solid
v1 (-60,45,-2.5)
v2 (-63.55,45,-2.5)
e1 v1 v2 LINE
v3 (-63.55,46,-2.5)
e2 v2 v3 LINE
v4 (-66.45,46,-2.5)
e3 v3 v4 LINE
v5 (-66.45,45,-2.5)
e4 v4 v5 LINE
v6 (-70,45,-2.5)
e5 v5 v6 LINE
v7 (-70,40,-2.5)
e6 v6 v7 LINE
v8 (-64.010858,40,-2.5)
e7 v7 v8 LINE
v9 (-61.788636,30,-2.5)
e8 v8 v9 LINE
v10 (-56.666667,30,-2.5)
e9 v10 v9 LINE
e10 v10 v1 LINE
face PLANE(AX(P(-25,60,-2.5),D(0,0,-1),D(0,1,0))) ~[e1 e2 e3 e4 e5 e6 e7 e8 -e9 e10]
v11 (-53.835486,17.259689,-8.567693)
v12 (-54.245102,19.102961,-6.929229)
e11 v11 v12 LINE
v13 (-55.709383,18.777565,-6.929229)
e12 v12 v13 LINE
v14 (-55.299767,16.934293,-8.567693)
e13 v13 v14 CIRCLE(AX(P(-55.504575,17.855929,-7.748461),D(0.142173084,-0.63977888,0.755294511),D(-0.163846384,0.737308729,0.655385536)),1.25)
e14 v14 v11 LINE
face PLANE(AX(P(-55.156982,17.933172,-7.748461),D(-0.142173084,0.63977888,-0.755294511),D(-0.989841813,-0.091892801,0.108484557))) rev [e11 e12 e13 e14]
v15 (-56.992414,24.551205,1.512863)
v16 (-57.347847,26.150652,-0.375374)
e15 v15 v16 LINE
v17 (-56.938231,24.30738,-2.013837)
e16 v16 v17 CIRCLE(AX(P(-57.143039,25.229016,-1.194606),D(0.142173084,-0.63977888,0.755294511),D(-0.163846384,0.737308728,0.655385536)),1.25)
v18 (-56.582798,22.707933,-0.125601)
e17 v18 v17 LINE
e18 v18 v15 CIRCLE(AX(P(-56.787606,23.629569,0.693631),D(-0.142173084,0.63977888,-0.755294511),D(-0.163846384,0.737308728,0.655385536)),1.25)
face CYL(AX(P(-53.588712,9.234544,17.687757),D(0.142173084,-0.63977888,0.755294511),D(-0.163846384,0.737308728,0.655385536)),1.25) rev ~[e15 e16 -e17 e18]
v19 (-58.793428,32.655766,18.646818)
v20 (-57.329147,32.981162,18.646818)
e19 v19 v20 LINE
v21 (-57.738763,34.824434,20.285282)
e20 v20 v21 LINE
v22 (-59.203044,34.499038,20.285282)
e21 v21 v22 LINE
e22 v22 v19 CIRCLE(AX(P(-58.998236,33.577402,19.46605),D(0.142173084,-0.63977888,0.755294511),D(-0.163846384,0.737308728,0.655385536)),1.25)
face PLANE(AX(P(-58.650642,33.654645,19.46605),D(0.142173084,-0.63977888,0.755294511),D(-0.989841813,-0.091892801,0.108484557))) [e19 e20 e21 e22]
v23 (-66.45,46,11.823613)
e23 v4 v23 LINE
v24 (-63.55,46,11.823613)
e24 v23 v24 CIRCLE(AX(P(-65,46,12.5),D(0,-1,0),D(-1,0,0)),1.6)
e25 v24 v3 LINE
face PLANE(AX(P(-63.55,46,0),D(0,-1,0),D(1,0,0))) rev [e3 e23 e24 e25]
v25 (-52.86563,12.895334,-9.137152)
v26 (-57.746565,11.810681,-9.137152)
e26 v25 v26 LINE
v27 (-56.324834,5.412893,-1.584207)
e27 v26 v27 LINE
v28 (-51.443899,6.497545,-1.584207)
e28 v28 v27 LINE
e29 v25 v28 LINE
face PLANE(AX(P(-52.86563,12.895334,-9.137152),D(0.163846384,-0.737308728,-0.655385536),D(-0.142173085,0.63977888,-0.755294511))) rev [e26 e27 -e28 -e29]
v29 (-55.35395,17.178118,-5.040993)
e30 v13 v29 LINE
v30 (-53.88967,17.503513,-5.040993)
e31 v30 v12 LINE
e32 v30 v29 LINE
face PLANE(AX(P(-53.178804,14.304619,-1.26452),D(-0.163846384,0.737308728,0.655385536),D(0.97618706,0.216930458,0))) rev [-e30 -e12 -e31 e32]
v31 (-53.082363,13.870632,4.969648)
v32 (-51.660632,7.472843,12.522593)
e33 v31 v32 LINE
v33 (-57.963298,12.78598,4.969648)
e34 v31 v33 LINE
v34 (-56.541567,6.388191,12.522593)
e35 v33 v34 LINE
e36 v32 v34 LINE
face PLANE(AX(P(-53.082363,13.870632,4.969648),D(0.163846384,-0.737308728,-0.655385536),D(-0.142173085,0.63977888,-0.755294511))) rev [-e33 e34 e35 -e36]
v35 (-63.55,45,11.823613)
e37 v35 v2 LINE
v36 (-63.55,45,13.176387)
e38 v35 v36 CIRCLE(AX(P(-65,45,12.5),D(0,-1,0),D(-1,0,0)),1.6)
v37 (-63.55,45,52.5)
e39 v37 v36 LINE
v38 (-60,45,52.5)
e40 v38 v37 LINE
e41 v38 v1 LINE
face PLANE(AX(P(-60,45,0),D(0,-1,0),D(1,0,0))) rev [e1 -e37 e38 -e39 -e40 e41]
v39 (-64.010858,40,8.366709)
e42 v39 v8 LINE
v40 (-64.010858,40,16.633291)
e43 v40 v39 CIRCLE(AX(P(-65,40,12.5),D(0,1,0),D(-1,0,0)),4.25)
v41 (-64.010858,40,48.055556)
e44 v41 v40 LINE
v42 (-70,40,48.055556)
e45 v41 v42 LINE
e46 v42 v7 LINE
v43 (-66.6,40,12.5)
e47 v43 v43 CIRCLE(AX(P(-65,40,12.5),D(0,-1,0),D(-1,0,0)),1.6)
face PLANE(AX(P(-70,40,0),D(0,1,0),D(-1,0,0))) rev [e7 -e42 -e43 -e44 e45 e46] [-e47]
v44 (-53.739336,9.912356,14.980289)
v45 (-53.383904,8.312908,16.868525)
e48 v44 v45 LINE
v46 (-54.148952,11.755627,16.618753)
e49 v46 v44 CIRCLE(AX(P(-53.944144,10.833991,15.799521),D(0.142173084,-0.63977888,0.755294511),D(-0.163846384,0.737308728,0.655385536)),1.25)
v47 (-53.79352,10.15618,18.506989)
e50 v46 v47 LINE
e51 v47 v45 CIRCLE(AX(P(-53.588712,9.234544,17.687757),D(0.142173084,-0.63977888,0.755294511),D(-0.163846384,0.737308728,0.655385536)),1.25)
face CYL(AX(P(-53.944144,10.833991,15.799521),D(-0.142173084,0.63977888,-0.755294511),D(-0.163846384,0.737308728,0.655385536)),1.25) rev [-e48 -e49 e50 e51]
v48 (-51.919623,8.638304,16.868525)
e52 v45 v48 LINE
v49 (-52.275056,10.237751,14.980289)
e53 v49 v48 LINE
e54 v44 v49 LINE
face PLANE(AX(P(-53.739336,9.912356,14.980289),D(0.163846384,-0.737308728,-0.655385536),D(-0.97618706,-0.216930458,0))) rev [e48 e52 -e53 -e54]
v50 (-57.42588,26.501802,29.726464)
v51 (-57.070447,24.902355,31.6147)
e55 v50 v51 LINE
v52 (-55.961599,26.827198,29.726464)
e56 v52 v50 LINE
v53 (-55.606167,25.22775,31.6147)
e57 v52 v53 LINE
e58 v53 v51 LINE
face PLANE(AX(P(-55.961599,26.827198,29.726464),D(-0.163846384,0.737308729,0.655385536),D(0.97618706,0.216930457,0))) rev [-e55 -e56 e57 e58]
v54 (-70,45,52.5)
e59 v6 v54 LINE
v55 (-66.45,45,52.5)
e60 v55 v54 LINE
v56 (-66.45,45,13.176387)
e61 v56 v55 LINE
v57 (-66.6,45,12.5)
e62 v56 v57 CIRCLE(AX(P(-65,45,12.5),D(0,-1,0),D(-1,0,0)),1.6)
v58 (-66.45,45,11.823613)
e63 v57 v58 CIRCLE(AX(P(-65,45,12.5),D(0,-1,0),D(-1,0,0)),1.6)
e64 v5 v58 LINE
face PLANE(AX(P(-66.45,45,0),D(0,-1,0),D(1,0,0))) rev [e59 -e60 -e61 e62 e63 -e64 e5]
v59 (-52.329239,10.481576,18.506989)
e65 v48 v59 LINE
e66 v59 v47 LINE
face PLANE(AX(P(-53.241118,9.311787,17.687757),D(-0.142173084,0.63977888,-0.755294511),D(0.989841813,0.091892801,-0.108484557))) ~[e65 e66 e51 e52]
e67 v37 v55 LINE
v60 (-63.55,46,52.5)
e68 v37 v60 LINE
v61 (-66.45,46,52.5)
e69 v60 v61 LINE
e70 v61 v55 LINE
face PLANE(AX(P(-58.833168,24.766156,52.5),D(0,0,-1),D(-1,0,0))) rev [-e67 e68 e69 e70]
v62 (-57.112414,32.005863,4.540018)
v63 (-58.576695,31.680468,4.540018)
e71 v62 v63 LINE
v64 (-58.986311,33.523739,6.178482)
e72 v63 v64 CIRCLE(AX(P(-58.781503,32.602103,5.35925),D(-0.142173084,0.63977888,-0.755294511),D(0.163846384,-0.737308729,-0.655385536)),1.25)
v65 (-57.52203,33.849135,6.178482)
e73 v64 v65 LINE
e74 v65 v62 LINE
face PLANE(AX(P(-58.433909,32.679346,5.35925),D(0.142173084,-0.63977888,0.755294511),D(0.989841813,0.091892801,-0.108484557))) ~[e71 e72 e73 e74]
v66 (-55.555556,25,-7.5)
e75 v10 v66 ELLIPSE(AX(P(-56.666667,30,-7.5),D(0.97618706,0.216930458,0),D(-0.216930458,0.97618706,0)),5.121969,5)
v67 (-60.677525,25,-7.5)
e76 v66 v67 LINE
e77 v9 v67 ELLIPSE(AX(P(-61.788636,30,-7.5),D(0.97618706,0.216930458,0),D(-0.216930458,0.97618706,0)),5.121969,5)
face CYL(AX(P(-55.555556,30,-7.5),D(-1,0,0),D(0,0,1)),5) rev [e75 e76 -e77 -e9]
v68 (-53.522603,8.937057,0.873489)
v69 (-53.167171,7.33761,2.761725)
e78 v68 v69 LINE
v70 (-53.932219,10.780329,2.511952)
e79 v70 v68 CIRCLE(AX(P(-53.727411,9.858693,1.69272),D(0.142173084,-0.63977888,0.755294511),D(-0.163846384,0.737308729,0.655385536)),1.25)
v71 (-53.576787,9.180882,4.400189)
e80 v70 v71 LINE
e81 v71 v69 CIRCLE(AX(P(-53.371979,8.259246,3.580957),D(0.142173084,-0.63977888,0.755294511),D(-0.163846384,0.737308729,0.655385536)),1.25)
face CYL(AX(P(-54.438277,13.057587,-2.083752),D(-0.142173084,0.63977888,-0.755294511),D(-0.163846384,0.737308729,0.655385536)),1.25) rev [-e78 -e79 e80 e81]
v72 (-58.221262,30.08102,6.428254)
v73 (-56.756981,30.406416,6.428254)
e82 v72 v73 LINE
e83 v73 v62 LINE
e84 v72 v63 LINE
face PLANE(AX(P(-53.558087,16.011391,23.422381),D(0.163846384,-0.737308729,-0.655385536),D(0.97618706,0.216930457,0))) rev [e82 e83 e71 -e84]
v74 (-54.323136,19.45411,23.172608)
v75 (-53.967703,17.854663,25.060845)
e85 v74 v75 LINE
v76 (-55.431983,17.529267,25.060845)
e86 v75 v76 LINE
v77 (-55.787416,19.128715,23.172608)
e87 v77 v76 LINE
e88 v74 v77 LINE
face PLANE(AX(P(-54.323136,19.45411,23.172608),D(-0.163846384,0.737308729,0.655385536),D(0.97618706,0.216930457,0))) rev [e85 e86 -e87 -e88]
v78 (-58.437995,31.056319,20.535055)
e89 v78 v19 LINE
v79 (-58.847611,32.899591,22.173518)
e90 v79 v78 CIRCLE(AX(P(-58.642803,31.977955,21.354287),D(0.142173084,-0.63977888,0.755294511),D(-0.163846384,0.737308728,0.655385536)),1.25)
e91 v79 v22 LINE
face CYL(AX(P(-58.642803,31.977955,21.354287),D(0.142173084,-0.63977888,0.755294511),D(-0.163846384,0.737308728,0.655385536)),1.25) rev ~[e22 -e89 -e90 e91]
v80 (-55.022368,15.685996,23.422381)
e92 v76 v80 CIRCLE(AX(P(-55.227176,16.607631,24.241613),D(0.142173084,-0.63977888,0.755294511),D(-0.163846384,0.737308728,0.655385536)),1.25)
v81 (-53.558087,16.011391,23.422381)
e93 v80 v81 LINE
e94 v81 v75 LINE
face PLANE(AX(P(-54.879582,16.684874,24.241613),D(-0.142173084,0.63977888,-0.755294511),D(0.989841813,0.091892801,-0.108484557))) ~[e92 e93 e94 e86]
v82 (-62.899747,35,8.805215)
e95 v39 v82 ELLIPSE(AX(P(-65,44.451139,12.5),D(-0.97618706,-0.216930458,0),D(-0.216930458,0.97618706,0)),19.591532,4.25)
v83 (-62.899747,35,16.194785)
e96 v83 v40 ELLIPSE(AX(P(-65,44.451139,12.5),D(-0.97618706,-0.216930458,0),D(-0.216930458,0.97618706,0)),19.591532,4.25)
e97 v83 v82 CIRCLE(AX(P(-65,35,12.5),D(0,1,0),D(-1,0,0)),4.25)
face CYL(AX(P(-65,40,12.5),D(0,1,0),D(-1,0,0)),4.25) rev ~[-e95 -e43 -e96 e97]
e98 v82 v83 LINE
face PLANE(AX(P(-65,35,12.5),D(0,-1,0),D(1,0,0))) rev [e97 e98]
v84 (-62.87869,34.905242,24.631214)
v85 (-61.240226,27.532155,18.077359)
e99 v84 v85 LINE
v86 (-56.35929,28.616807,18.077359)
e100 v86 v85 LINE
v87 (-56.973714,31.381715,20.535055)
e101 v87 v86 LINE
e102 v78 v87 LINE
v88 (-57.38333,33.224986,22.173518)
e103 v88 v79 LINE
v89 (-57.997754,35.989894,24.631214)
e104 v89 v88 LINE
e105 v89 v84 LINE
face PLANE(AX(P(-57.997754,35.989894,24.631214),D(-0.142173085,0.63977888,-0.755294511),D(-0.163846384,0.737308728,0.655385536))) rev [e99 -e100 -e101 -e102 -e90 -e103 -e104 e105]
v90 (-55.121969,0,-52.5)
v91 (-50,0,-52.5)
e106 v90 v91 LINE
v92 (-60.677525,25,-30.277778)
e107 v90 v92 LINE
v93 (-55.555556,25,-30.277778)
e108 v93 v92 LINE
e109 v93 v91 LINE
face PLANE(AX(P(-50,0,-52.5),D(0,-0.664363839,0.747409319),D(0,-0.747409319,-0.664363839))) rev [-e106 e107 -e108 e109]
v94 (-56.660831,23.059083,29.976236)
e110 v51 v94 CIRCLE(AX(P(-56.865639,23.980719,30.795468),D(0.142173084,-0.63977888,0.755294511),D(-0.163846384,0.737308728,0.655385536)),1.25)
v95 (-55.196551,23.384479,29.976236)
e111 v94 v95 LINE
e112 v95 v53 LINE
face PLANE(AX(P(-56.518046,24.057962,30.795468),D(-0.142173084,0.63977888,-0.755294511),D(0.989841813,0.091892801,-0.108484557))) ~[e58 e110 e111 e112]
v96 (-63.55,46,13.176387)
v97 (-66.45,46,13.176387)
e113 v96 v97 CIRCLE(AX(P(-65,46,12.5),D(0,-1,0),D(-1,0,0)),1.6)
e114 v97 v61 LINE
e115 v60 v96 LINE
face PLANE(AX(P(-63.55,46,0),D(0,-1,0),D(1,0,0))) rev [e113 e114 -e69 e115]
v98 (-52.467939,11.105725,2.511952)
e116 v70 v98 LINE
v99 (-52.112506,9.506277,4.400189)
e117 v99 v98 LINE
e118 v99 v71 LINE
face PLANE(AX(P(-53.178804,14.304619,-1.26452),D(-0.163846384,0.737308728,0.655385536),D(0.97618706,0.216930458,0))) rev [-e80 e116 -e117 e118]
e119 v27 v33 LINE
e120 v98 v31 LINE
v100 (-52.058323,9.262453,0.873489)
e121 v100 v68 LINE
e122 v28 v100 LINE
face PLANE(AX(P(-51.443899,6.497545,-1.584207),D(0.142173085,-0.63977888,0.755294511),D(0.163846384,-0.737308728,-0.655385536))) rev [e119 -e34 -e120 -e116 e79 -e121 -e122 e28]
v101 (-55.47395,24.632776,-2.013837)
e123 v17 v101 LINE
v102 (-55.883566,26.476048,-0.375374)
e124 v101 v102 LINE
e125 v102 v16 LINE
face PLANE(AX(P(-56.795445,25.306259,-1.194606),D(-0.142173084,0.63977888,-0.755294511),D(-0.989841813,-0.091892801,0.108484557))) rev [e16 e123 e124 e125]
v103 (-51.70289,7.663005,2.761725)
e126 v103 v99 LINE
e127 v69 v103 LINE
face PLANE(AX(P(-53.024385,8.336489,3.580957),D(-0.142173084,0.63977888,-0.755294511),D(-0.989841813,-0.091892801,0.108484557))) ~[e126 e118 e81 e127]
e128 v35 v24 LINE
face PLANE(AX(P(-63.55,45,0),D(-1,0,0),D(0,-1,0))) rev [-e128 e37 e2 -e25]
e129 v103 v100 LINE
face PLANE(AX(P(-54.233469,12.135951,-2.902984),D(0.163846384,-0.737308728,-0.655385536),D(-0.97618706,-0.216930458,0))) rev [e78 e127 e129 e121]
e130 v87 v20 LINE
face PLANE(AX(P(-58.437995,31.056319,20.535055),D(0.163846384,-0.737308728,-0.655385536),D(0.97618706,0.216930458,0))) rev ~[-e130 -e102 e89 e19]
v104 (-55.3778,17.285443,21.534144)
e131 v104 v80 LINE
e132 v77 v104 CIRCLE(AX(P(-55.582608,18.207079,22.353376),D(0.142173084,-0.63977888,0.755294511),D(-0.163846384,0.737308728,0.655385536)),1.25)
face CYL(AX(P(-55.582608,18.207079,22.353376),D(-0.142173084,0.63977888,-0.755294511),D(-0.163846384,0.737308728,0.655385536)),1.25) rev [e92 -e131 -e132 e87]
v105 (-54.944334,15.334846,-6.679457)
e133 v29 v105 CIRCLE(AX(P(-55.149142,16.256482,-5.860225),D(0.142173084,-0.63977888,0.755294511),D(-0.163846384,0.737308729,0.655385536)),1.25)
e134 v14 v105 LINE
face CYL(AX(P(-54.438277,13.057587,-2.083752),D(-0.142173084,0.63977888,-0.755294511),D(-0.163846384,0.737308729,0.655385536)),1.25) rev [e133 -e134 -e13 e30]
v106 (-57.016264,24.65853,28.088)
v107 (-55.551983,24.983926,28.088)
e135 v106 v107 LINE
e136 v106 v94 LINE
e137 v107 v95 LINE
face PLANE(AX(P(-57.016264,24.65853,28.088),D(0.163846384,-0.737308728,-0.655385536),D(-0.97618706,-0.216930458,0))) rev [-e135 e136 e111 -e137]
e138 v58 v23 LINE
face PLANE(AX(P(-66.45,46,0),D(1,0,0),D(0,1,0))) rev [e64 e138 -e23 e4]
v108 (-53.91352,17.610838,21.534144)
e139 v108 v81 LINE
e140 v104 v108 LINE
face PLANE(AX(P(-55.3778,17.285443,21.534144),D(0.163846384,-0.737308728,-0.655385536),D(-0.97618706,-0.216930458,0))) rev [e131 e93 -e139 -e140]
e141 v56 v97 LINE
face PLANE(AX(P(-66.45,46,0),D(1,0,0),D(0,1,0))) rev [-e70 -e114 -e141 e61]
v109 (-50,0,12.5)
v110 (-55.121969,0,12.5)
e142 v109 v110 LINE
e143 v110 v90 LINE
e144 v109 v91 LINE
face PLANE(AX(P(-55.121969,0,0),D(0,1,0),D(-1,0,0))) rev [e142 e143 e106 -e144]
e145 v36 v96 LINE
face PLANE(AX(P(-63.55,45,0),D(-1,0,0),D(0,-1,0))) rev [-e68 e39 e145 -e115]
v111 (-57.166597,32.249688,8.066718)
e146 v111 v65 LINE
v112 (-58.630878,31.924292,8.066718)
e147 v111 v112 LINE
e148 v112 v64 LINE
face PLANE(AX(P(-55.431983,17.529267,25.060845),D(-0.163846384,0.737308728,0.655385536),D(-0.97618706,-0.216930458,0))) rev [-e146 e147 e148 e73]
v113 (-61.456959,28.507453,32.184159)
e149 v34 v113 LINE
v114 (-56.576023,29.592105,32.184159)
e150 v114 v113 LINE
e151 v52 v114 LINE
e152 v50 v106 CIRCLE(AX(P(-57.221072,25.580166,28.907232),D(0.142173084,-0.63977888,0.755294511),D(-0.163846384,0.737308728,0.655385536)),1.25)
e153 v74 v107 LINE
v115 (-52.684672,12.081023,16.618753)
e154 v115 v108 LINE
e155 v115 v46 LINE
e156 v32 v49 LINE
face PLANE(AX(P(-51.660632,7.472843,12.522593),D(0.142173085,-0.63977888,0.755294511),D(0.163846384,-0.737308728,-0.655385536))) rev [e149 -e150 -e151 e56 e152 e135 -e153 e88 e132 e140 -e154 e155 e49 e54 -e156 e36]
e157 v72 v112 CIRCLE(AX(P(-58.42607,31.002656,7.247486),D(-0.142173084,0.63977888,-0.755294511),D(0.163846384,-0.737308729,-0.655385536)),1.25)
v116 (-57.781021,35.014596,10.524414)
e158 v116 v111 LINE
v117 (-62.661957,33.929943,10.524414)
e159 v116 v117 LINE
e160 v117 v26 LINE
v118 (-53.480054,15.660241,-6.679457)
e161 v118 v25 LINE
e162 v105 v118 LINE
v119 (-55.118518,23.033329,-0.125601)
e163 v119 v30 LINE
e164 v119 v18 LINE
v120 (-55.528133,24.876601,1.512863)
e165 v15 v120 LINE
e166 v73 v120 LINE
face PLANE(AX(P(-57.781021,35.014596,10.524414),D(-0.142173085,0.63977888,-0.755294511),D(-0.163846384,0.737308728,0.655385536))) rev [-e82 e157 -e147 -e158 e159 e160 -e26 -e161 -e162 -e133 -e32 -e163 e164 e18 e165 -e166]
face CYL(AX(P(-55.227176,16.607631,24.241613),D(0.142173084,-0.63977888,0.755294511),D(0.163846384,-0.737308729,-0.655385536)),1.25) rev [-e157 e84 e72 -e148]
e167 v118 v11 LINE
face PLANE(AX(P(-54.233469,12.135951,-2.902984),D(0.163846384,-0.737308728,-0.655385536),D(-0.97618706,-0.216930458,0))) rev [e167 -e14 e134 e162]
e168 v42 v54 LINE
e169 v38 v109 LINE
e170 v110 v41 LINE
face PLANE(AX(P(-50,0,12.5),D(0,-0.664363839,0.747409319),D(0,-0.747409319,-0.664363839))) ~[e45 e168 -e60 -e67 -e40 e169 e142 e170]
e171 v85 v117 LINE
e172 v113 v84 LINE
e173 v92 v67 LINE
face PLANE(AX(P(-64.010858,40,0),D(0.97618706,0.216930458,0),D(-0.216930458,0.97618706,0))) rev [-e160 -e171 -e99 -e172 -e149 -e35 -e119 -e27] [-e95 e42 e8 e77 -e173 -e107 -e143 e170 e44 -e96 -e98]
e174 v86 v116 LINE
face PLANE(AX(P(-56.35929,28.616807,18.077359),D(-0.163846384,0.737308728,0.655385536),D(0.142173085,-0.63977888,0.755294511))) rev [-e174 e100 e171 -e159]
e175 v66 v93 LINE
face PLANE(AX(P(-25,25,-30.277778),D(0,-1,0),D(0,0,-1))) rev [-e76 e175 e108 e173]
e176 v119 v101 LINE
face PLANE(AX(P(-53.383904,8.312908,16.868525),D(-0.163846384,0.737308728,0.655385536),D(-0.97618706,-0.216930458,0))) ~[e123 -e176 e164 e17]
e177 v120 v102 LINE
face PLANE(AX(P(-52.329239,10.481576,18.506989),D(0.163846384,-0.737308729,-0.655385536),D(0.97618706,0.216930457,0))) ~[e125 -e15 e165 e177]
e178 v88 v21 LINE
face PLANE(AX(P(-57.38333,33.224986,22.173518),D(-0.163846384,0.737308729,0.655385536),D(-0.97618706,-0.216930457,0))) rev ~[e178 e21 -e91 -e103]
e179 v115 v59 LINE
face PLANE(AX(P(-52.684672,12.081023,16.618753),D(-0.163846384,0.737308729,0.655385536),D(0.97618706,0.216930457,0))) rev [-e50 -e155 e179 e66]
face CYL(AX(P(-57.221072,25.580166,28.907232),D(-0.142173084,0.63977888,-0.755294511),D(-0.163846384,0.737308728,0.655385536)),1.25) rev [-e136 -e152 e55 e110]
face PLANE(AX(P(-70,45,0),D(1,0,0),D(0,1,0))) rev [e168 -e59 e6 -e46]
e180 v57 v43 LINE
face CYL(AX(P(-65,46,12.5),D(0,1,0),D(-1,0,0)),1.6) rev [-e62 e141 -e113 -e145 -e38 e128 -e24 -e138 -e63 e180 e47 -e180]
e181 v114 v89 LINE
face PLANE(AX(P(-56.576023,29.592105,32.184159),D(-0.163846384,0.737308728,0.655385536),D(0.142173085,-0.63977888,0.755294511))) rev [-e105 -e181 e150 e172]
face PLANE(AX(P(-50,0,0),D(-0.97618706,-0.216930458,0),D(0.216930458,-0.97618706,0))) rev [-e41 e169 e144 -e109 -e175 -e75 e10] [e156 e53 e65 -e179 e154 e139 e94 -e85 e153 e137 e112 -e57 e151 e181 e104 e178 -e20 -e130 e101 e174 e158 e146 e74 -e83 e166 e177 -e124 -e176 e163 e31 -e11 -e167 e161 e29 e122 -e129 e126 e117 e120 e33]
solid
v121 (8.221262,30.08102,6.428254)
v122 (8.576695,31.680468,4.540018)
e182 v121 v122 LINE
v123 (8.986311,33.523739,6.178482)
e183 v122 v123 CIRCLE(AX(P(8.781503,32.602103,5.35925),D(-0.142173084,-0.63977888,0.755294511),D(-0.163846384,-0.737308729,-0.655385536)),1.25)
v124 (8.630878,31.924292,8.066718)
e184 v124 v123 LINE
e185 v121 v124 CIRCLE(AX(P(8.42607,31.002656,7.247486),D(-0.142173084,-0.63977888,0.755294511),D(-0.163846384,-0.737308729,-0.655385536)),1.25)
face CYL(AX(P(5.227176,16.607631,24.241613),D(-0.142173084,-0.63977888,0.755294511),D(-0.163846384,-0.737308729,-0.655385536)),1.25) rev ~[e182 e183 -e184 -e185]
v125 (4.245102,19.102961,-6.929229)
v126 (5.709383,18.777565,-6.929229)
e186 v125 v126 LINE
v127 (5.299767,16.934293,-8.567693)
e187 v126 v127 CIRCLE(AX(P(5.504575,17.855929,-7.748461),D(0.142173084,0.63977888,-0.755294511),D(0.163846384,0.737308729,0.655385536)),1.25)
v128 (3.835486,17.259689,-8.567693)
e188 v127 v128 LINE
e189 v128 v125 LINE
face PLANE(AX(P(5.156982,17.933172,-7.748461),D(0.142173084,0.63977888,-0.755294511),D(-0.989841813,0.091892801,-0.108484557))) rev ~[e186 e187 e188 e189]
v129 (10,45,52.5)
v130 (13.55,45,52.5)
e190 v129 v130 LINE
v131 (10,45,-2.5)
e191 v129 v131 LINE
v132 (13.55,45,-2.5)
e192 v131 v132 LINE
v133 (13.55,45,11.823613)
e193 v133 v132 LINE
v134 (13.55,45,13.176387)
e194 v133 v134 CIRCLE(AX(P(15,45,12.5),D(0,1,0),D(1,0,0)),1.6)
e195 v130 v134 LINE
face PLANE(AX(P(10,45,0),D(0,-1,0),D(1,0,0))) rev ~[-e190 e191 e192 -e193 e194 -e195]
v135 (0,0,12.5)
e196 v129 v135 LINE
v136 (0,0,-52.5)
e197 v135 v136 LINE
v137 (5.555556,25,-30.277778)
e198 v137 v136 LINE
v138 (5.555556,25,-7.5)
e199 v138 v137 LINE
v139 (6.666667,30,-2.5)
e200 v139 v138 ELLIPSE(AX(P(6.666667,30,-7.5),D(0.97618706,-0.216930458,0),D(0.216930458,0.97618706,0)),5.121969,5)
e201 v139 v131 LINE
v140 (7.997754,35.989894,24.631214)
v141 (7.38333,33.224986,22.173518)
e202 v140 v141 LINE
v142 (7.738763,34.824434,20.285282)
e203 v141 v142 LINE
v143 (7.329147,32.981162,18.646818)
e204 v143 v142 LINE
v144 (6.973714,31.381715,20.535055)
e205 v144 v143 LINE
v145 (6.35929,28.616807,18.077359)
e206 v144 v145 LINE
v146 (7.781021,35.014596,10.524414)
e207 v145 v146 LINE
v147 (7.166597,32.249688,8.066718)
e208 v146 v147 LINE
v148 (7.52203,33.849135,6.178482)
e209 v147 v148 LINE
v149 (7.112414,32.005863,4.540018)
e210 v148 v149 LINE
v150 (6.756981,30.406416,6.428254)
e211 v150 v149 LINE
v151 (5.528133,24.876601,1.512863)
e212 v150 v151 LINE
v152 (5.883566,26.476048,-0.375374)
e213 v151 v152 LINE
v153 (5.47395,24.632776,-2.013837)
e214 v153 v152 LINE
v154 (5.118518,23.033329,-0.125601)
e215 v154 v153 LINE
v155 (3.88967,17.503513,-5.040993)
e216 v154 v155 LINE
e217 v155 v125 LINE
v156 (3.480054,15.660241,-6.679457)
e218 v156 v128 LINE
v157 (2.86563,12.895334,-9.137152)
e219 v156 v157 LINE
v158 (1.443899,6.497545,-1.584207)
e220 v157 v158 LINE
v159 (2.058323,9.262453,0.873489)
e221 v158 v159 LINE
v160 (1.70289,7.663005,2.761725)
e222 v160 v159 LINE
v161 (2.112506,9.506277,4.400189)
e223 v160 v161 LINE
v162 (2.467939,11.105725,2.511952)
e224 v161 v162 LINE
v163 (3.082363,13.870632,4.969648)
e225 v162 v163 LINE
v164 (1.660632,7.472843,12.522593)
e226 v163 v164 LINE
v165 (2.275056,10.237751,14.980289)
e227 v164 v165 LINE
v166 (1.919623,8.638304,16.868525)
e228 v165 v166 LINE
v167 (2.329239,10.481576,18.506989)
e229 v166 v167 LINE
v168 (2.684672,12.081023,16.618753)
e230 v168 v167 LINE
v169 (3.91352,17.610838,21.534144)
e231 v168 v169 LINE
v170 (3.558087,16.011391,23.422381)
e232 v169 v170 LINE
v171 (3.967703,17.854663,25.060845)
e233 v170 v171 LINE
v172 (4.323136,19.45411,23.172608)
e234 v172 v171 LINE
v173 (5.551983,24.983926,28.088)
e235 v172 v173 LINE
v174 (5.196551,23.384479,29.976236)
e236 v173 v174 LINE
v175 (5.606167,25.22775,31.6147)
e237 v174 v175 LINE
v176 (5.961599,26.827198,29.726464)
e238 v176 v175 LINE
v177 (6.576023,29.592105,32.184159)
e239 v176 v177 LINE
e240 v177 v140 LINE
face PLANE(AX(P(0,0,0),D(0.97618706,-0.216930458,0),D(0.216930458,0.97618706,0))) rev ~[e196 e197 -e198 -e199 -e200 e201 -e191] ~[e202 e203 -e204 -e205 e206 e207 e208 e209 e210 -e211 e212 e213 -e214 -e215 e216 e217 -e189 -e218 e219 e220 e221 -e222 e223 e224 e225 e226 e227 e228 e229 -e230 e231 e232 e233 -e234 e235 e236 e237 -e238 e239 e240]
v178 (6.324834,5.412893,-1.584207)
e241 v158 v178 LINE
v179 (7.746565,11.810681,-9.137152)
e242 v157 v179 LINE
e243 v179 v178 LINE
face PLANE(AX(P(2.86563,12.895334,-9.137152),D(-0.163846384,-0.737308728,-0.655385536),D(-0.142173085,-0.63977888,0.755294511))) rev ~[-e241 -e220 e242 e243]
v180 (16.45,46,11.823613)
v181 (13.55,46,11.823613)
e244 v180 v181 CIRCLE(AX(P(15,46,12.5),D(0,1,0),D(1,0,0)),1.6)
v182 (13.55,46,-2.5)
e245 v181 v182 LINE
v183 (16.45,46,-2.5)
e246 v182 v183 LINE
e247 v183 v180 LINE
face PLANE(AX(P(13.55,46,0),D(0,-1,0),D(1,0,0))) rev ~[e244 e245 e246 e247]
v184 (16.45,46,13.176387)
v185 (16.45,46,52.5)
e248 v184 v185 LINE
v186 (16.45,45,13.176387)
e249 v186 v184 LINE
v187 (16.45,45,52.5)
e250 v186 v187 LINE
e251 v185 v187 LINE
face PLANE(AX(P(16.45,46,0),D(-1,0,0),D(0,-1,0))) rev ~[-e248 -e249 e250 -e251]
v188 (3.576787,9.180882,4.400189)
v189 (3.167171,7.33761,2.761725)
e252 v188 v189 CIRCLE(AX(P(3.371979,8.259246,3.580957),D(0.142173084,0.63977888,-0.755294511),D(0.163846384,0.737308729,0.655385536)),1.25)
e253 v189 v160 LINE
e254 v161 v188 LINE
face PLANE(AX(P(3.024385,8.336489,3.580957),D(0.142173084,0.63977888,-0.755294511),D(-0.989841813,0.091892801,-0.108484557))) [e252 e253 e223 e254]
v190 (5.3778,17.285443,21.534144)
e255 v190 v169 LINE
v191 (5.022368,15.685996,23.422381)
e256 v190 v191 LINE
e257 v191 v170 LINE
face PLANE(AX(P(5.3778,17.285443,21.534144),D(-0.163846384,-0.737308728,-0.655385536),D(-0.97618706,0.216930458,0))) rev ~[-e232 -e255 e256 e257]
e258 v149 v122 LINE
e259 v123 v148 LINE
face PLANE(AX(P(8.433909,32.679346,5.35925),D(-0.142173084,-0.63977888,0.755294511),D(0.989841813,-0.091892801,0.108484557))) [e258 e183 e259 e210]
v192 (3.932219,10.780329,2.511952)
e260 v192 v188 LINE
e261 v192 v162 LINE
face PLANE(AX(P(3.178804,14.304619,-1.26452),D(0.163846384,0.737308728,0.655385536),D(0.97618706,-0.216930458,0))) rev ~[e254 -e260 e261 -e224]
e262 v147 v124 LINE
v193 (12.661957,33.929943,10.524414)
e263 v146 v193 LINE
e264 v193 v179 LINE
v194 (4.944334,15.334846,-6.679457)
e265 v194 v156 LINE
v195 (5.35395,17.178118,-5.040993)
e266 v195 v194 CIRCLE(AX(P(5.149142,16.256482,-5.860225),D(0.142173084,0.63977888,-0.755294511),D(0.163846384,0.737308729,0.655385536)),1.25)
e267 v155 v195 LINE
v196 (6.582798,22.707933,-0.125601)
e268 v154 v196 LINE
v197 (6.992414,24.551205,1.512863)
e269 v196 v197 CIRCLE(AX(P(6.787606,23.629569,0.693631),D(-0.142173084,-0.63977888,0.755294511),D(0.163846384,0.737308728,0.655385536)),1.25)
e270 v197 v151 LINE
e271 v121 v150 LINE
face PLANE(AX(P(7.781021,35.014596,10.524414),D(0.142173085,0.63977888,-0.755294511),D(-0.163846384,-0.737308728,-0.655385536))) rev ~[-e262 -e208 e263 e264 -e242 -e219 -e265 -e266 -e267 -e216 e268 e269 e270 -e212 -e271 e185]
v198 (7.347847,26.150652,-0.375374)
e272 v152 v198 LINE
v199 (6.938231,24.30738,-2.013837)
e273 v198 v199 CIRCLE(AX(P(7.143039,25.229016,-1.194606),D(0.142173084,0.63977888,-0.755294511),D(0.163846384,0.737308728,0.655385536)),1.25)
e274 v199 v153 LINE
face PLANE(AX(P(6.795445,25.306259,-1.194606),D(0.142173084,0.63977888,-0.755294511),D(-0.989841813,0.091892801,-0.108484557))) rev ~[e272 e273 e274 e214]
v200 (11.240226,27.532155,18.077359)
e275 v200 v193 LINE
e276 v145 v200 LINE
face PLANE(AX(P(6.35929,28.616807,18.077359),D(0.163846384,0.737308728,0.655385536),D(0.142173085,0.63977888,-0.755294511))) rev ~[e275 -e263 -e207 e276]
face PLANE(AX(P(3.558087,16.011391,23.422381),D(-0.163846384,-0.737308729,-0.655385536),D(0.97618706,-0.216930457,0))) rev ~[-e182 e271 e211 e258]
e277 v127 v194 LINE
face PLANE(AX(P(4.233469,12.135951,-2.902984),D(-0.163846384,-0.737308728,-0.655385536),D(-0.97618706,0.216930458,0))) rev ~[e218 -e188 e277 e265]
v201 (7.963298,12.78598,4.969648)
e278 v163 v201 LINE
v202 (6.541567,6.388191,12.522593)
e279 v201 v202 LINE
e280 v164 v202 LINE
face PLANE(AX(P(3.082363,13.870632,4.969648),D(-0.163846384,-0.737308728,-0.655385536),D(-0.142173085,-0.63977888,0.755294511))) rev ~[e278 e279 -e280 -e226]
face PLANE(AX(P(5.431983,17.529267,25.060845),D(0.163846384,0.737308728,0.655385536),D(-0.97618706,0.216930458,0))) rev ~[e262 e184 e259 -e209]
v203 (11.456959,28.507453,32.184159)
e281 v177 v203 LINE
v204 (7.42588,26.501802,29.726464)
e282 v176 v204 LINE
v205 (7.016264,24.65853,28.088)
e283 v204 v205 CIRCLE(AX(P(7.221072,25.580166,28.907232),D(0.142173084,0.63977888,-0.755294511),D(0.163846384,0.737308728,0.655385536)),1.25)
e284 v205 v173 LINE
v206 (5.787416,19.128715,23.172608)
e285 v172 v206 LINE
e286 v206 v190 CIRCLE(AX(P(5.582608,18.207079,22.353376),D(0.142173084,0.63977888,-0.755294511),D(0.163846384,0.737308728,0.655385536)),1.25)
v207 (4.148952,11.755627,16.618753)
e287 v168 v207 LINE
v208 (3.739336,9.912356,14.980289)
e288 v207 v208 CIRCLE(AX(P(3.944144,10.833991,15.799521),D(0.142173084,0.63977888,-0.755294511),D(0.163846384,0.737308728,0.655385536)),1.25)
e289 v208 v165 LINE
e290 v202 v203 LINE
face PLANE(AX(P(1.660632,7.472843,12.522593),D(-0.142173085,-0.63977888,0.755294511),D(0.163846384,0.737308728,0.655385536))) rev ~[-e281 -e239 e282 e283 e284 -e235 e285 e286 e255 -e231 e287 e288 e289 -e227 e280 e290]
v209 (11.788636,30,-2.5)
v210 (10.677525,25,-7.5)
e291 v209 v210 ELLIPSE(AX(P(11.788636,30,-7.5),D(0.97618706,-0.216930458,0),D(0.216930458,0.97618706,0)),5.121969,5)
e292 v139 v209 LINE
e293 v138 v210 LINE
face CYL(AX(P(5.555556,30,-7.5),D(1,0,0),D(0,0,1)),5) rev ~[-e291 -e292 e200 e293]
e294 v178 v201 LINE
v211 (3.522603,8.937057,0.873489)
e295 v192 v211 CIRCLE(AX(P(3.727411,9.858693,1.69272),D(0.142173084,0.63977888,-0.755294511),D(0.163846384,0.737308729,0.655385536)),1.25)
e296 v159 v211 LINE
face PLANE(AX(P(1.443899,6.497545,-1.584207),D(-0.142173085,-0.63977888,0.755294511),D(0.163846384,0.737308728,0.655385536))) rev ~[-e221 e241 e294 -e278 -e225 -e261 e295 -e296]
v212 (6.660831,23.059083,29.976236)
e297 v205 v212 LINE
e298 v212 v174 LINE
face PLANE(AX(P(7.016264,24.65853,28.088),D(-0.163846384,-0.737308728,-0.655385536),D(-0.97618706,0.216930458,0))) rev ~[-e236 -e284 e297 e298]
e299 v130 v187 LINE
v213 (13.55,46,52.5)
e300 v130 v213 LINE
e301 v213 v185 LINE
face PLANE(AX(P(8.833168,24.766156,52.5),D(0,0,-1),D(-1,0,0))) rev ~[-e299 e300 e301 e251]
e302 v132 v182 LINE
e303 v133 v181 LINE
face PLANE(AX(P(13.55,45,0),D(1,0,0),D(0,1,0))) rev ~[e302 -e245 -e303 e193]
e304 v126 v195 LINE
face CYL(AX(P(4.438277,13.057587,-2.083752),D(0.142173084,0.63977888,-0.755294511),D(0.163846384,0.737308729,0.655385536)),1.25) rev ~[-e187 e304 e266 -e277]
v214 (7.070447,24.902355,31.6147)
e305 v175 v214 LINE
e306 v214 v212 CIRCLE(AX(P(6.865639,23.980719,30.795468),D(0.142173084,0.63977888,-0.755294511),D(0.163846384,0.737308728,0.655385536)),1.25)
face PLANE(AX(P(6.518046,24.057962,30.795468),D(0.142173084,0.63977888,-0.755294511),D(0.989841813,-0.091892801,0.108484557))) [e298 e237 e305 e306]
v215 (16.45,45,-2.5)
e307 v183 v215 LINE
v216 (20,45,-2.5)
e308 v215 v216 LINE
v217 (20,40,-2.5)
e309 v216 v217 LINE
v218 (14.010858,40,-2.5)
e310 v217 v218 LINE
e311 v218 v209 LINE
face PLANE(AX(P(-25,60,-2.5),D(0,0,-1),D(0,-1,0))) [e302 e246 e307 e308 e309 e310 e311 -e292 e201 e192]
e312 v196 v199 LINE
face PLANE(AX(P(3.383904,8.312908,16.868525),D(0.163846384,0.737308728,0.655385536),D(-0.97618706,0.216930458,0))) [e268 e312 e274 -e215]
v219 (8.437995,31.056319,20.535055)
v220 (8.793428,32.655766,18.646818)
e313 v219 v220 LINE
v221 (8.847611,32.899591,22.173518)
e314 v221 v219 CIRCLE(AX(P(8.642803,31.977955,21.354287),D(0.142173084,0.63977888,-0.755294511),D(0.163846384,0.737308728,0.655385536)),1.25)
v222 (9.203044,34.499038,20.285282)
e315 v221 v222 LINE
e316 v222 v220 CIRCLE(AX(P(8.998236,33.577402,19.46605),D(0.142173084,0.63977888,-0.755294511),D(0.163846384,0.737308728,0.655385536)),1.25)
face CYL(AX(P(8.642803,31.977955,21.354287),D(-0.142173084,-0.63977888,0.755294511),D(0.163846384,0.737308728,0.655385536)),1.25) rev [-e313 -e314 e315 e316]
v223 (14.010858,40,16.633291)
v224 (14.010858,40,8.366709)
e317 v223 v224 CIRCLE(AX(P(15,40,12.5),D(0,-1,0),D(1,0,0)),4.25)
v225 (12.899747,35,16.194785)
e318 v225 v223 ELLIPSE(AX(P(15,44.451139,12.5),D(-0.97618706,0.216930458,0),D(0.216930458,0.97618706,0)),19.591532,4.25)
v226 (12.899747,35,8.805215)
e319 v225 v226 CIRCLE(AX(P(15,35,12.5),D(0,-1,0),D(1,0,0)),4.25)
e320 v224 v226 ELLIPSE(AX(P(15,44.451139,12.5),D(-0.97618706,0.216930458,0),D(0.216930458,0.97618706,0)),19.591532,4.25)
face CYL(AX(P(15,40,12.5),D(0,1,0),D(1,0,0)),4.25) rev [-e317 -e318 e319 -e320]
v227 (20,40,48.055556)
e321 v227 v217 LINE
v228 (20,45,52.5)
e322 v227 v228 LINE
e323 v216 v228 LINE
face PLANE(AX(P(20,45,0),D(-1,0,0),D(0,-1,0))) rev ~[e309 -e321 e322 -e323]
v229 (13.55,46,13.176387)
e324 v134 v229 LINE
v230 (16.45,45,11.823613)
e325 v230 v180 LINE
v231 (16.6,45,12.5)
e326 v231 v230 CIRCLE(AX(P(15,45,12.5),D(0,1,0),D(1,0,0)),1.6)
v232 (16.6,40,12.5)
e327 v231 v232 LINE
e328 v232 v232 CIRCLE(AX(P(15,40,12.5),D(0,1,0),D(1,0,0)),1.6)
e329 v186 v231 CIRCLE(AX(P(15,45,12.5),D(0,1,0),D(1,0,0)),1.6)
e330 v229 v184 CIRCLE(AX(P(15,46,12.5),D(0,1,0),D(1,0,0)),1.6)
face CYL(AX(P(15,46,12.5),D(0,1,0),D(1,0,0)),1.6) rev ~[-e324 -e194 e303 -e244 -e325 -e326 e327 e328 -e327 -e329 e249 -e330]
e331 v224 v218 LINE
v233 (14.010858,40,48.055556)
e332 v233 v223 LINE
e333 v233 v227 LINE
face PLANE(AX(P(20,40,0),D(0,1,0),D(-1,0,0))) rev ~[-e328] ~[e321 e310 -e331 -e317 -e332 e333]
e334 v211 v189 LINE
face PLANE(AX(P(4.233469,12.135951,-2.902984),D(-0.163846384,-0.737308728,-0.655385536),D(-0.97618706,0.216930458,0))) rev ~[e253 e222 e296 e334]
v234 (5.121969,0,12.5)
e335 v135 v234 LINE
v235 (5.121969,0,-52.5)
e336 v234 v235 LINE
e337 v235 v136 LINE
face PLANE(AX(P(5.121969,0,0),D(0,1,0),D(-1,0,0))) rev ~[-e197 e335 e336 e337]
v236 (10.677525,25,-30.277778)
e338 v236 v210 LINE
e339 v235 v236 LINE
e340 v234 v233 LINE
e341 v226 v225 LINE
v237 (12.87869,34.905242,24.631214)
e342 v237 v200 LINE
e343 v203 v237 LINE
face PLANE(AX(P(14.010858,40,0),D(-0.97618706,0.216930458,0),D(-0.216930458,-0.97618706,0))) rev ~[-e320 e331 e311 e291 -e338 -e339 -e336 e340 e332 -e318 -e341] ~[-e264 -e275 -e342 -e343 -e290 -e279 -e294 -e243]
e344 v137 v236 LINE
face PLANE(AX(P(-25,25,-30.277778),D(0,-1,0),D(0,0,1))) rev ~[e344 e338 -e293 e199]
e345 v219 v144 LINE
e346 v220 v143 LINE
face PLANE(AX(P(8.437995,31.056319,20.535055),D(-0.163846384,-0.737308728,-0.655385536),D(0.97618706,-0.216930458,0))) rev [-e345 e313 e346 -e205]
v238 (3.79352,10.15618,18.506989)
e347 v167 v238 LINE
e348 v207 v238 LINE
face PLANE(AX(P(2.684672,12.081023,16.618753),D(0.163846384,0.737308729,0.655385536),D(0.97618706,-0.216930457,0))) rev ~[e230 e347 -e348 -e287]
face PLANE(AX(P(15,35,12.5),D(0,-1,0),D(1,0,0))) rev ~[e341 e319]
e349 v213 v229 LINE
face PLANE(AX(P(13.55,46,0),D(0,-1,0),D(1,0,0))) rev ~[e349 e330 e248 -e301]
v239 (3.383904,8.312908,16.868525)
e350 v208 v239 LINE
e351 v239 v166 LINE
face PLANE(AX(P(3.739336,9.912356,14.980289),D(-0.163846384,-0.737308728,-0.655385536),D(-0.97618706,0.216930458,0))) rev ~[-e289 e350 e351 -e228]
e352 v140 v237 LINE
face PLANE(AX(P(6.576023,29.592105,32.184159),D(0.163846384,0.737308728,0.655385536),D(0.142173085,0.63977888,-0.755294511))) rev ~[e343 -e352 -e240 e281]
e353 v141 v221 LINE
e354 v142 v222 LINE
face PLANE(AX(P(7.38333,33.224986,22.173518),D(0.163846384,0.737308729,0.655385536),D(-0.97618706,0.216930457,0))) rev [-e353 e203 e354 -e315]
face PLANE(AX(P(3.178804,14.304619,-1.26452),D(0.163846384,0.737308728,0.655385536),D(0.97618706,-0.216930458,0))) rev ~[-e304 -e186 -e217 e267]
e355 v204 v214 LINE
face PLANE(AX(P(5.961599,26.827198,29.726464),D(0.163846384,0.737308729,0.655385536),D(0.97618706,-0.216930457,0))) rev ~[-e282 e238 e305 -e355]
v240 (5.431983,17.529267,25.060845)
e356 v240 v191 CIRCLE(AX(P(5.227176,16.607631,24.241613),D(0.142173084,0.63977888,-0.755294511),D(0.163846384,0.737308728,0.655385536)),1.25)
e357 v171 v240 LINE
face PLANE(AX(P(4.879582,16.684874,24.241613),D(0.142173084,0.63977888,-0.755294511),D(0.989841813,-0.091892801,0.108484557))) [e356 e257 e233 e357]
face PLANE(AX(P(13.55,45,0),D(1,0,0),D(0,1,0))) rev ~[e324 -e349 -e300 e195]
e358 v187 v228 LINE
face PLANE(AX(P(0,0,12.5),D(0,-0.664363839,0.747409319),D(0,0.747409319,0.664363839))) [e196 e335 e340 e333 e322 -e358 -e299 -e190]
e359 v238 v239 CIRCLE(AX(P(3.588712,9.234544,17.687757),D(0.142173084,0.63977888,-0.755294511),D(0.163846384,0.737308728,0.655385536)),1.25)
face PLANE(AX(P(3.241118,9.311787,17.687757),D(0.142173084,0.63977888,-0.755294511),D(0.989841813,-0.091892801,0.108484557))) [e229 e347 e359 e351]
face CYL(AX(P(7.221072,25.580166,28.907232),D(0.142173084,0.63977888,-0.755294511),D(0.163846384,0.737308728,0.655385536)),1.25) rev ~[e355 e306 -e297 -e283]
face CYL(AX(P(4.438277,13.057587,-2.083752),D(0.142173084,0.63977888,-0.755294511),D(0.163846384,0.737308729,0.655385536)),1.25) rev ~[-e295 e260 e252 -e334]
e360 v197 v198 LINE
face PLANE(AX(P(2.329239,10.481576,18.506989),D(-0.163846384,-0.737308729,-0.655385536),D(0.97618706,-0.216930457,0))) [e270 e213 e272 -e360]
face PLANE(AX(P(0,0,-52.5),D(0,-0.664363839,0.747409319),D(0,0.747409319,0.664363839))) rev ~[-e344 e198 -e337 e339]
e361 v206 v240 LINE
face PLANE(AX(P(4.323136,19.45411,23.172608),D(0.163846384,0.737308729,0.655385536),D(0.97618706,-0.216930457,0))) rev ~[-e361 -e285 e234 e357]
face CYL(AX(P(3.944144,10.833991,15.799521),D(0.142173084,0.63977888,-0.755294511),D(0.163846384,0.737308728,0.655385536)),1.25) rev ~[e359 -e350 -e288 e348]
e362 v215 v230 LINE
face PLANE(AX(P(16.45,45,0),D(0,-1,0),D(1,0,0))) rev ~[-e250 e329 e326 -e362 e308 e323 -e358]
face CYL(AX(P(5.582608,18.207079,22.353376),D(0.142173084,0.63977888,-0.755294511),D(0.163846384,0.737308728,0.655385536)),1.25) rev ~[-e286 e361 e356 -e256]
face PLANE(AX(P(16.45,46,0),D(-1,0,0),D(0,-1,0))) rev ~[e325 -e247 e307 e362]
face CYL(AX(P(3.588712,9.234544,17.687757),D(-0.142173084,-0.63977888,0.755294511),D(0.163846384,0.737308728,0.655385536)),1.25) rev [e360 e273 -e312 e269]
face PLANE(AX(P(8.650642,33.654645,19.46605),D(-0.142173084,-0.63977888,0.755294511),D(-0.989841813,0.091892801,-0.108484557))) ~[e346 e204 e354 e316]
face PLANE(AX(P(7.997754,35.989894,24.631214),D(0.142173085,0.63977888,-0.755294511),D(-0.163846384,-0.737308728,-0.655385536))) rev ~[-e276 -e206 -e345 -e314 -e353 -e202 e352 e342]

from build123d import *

# Parameters (mm, degrees)
MAIN_DEPTH               = 52.5
SKETCH3_R                = 1.6
MAKERBEAMFIXHOLES_DEPTH  = 47
SIDECUT_DEPTH            = 21
SIDECUT_DEPTH_BACK       = 1
CENTRALCUT_DEPTH         = 10
ROLLERSUPPORTHOLES_DEPTH = 2.5
LPATTERN1_COUNT          = 3
LPATTERN1_PITCH          = 10
CUT_EXTRUDE1_DEPTH       = 25
CUT_EXTRUDE2_DEPTH       = 25
CUT_EXTRUDE3_DEPTH       = 7.5
SKETCH10_R               = 4.25
CUT_EXTRUDE5_DEPTH       = 5
SKETCH11_W               = 27.777777778
SKETCH11_H               = 35
CUT_EXTRUDE6_DEPTH       = 46
CUT_EXTRUDE6_DEPTH_BACK  = 1
FILLET1_R                = 5


with BuildPart() as part:
    # Sketch1 → Main (new body, symmetric)
    with BuildSketch(Plane.XY):
        Polygon((20, 45), (20, 40), (14.010858032, 40), (5.121969143, 0), (0, 0), (10, 45), (13.55, 45), (13.55, 46), (16.45, 46), (16.45, 45), align=None)
    extrude(amount=MAIN_DEPTH, both=True)

    # Sketch3 → MakerBeamFixHoles (cut, through all)
    with BuildSketch(Plane(origin=(0, 46, 0), x_dir=(1, 0, 0), z_dir=(0, 1, 0))):
        with Locations((15, -12.5)):
            Circle(SKETCH3_R)
    extrude(amount=-MAKERBEAMFIXHOLES_DEPTH, mode=Mode.SUBTRACT)

    # Sketch2 → SideCut (cut, two sides)
    with BuildSketch(Plane(origin=(0, 40.615528128, 0), x_dir=(0, 0, 1), z_dir=(1, 0, 0))) as sidecut_sk:
        Polygon((-52.5, 40.615528128), (-12.5, -4.384471872), (-12.5, -5.384471872), (-52.5, -5.384471872), align=None)
        Polygon((52.5, -4.384471872), (52.5, 40.615528128), (12.5, 40.615528128), align=None)
    extrude(amount=SIDECUT_DEPTH, mode=Mode.SUBTRACT)
    extrude(sidecut_sk.sketch, amount=-SIDECUT_DEPTH_BACK, mode=Mode.SUBTRACT)

    # Sketch5 → CentralCut (cut)
    with BuildSketch(Plane(origin=(0, 0, 0), x_dir=(0, 0, 1), z_dir=(-0.97618706, 0.216930458, 0))):
        Polygon((24.631214246, 36.867825412), (18.077358881, 29.3148803), (10.524413769, 35.868735664), (-9.137152323, 13.209900328), (-1.584207211, 6.656044963), (4.969648153, 14.208990076), (12.522593265, 7.655134711), (32.184159358, 30.313970048), align=None)
    extrude(amount=-CENTRALCUT_DEPTH, mode=Mode.SUBTRACT)

    # Sketch4 → RollerSupportHoles (cut)
    with BuildSketch(Plane(origin=(-0.631416457, 4.658737233, 9.707435372), x_dir=(-0.989841813, 0.091892801, -0.108484557), z_dir=(-0.142173084, -0.63977888, 0.755294511))):
        with BuildLine():
            Line((-6.246856698, -27.389225103), (-6.660676315, -29.854737894))
            Line((-6.660676315, -29.854737894), (-8.13998399, -29.606446124))
            ThreePointArc((-8.13998399, -29.606446124), (-9.165830577, -28.166779919), (-7.726164372, -27.140933332))
            Line((-7.726164372, -27.140933332), (-6.246856698, -27.389225103))
        make_face()
    rollersupportholes = extrude(amount=ROLLERSUPPORTHOLES_DEPTH, mode=Mode.SUBTRACT)

    # LPattern1: RollerSupportHoles ×3
    with Locations(*[Vector(-0.163846384, -0.737308728, -0.655385536) * (i * LPATTERN1_PITCH) for i in range(1, LPATTERN1_COUNT)]):
        add(rollersupportholes, mode=Mode.SUBTRACT)

    # Sketch6 → Cut-Extrude1 (cut)
    with BuildSketch(Plane(origin=(-0.986849168, -4.440821256, 5.242636205), x_dir=(-0.989841813, 0.091892801, -0.108484557), z_dir=(0.142173084, 0.63977888, -0.755294511))):
        with BuildLine():
            Line((-5.005397845, 29.821864147), (-4.591578228, 27.356351355))
            Line((-4.591578228, 27.356351355), (-6.070885903, 27.108059585))
            ThreePointArc((-6.070885903, 27.108059585), (-7.510552107, 28.133906172), (-6.48470552, 29.573572376))
            Line((-6.48470552, 29.573572376), (-5.005397845, 29.821864147))
        make_face()
    extrude(amount=CUT_EXTRUDE1_DEPTH, mode=Mode.SUBTRACT)

    # Mirror5: RollerSupportHoles across plane
    add(rollersupportholes.mirror(Plane(origin=(0.079448965, 0.357520344, -0.422072629), x_dir=(0.163846384, 0.737308728, 0.655385536), z_dir=(0.142173084, 0.63977888, -0.755294511))), mode=Mode.SUBTRACT)

    # Sketch7 → Cut-Extrude2 (cut)
    with BuildSketch(Plane(origin=(-0.986849168, -4.440821256, 5.242636205), x_dir=(-0.989841813, 0.091892801, -0.108484557), z_dir=(0.142173084, 0.63977888, -0.755294511))):
        with BuildLine():
            Line((-4.415607433, 17.246008419), (-2.936299758, 17.49430019))
            Line((-2.936299758, 17.49430019), (-3.350119375, 19.959812981))
            Line((-3.350119375, 19.959812981), (-4.82942705, 19.711521211))
            ThreePointArc((-4.82942705, 19.711521211), (-5.855273637, 18.271855006), (-4.415607433, 17.246008419))
        make_face()
    extrude(amount=CUT_EXTRUDE2_DEPTH, mode=Mode.SUBTRACT)

    # Sketch8 → Cut-Extrude3 (cut, symmetric)
    with BuildSketch(Plane(origin=(1.50117981, 6.755309145, -7.975017741), x_dir=(-0.989841813, 0.091892801, -0.108484557), z_dir=(0.142173084, 0.63977888, -0.755294511))):
        with BuildLine():
            Line((-2.760328963, 7.383957254), (-1.281021288, 7.632249025))
            Line((-1.281021288, 7.632249025), (-1.694840906, 10.097761816))
            Line((-1.694840906, 10.097761816), (-3.17414858, 9.849470045))
            ThreePointArc((-3.17414858, 9.849470045), (-4.199995167, 8.409803841), (-2.760328963, 7.383957254))
        make_face()
    extrude(amount=CUT_EXTRUDE3_DEPTH, both=True, mode=Mode.SUBTRACT)

    # Sketch10 → Cut-Extrude5 (cut)
    with BuildSketch(Plane.XZ.offset(-40)):
        with Locations((15, 12.5)):
            Circle(SKETCH10_R)
    extrude(amount=CUT_EXTRUDE5_DEPTH, mode=Mode.SUBTRACT)

    # Sketch11 → Cut-Extrude6 (cut, two sides)
    with BuildSketch(Plane(origin=(-25, -227.744305716, 0), x_dir=(0, 0, 1), z_dir=(1, 0, 0))) as cut_extrude6_sk:
        with Locations((-16.388888889, -270.244305716)):
            Rectangle(SKETCH11_W, SKETCH11_H)
    extrude(amount=CUT_EXTRUDE6_DEPTH, mode=Mode.SUBTRACT)
    extrude(cut_extrude6_sk.sketch, amount=-CUT_EXTRUDE6_DEPTH_BACK, mode=Mode.SUBTRACT)

    # Fillet1
    fillet1_edges = [part.edges().sort_by_distance(p)[0] for p in [
        (8.116540127, 25, -2.5),
    ]]
    fillet(fillet1_edges, radius=FILLET1_R)


with BuildPart() as body_2:
    # Mirror7: mirrored copy
    add(part.part.mirror(Plane(origin=(-25, 0, 0), x_dir=(0, 0, 1), z_dir=(1, 0, 0))))


solid = Compound([part.part, body_2.part])
